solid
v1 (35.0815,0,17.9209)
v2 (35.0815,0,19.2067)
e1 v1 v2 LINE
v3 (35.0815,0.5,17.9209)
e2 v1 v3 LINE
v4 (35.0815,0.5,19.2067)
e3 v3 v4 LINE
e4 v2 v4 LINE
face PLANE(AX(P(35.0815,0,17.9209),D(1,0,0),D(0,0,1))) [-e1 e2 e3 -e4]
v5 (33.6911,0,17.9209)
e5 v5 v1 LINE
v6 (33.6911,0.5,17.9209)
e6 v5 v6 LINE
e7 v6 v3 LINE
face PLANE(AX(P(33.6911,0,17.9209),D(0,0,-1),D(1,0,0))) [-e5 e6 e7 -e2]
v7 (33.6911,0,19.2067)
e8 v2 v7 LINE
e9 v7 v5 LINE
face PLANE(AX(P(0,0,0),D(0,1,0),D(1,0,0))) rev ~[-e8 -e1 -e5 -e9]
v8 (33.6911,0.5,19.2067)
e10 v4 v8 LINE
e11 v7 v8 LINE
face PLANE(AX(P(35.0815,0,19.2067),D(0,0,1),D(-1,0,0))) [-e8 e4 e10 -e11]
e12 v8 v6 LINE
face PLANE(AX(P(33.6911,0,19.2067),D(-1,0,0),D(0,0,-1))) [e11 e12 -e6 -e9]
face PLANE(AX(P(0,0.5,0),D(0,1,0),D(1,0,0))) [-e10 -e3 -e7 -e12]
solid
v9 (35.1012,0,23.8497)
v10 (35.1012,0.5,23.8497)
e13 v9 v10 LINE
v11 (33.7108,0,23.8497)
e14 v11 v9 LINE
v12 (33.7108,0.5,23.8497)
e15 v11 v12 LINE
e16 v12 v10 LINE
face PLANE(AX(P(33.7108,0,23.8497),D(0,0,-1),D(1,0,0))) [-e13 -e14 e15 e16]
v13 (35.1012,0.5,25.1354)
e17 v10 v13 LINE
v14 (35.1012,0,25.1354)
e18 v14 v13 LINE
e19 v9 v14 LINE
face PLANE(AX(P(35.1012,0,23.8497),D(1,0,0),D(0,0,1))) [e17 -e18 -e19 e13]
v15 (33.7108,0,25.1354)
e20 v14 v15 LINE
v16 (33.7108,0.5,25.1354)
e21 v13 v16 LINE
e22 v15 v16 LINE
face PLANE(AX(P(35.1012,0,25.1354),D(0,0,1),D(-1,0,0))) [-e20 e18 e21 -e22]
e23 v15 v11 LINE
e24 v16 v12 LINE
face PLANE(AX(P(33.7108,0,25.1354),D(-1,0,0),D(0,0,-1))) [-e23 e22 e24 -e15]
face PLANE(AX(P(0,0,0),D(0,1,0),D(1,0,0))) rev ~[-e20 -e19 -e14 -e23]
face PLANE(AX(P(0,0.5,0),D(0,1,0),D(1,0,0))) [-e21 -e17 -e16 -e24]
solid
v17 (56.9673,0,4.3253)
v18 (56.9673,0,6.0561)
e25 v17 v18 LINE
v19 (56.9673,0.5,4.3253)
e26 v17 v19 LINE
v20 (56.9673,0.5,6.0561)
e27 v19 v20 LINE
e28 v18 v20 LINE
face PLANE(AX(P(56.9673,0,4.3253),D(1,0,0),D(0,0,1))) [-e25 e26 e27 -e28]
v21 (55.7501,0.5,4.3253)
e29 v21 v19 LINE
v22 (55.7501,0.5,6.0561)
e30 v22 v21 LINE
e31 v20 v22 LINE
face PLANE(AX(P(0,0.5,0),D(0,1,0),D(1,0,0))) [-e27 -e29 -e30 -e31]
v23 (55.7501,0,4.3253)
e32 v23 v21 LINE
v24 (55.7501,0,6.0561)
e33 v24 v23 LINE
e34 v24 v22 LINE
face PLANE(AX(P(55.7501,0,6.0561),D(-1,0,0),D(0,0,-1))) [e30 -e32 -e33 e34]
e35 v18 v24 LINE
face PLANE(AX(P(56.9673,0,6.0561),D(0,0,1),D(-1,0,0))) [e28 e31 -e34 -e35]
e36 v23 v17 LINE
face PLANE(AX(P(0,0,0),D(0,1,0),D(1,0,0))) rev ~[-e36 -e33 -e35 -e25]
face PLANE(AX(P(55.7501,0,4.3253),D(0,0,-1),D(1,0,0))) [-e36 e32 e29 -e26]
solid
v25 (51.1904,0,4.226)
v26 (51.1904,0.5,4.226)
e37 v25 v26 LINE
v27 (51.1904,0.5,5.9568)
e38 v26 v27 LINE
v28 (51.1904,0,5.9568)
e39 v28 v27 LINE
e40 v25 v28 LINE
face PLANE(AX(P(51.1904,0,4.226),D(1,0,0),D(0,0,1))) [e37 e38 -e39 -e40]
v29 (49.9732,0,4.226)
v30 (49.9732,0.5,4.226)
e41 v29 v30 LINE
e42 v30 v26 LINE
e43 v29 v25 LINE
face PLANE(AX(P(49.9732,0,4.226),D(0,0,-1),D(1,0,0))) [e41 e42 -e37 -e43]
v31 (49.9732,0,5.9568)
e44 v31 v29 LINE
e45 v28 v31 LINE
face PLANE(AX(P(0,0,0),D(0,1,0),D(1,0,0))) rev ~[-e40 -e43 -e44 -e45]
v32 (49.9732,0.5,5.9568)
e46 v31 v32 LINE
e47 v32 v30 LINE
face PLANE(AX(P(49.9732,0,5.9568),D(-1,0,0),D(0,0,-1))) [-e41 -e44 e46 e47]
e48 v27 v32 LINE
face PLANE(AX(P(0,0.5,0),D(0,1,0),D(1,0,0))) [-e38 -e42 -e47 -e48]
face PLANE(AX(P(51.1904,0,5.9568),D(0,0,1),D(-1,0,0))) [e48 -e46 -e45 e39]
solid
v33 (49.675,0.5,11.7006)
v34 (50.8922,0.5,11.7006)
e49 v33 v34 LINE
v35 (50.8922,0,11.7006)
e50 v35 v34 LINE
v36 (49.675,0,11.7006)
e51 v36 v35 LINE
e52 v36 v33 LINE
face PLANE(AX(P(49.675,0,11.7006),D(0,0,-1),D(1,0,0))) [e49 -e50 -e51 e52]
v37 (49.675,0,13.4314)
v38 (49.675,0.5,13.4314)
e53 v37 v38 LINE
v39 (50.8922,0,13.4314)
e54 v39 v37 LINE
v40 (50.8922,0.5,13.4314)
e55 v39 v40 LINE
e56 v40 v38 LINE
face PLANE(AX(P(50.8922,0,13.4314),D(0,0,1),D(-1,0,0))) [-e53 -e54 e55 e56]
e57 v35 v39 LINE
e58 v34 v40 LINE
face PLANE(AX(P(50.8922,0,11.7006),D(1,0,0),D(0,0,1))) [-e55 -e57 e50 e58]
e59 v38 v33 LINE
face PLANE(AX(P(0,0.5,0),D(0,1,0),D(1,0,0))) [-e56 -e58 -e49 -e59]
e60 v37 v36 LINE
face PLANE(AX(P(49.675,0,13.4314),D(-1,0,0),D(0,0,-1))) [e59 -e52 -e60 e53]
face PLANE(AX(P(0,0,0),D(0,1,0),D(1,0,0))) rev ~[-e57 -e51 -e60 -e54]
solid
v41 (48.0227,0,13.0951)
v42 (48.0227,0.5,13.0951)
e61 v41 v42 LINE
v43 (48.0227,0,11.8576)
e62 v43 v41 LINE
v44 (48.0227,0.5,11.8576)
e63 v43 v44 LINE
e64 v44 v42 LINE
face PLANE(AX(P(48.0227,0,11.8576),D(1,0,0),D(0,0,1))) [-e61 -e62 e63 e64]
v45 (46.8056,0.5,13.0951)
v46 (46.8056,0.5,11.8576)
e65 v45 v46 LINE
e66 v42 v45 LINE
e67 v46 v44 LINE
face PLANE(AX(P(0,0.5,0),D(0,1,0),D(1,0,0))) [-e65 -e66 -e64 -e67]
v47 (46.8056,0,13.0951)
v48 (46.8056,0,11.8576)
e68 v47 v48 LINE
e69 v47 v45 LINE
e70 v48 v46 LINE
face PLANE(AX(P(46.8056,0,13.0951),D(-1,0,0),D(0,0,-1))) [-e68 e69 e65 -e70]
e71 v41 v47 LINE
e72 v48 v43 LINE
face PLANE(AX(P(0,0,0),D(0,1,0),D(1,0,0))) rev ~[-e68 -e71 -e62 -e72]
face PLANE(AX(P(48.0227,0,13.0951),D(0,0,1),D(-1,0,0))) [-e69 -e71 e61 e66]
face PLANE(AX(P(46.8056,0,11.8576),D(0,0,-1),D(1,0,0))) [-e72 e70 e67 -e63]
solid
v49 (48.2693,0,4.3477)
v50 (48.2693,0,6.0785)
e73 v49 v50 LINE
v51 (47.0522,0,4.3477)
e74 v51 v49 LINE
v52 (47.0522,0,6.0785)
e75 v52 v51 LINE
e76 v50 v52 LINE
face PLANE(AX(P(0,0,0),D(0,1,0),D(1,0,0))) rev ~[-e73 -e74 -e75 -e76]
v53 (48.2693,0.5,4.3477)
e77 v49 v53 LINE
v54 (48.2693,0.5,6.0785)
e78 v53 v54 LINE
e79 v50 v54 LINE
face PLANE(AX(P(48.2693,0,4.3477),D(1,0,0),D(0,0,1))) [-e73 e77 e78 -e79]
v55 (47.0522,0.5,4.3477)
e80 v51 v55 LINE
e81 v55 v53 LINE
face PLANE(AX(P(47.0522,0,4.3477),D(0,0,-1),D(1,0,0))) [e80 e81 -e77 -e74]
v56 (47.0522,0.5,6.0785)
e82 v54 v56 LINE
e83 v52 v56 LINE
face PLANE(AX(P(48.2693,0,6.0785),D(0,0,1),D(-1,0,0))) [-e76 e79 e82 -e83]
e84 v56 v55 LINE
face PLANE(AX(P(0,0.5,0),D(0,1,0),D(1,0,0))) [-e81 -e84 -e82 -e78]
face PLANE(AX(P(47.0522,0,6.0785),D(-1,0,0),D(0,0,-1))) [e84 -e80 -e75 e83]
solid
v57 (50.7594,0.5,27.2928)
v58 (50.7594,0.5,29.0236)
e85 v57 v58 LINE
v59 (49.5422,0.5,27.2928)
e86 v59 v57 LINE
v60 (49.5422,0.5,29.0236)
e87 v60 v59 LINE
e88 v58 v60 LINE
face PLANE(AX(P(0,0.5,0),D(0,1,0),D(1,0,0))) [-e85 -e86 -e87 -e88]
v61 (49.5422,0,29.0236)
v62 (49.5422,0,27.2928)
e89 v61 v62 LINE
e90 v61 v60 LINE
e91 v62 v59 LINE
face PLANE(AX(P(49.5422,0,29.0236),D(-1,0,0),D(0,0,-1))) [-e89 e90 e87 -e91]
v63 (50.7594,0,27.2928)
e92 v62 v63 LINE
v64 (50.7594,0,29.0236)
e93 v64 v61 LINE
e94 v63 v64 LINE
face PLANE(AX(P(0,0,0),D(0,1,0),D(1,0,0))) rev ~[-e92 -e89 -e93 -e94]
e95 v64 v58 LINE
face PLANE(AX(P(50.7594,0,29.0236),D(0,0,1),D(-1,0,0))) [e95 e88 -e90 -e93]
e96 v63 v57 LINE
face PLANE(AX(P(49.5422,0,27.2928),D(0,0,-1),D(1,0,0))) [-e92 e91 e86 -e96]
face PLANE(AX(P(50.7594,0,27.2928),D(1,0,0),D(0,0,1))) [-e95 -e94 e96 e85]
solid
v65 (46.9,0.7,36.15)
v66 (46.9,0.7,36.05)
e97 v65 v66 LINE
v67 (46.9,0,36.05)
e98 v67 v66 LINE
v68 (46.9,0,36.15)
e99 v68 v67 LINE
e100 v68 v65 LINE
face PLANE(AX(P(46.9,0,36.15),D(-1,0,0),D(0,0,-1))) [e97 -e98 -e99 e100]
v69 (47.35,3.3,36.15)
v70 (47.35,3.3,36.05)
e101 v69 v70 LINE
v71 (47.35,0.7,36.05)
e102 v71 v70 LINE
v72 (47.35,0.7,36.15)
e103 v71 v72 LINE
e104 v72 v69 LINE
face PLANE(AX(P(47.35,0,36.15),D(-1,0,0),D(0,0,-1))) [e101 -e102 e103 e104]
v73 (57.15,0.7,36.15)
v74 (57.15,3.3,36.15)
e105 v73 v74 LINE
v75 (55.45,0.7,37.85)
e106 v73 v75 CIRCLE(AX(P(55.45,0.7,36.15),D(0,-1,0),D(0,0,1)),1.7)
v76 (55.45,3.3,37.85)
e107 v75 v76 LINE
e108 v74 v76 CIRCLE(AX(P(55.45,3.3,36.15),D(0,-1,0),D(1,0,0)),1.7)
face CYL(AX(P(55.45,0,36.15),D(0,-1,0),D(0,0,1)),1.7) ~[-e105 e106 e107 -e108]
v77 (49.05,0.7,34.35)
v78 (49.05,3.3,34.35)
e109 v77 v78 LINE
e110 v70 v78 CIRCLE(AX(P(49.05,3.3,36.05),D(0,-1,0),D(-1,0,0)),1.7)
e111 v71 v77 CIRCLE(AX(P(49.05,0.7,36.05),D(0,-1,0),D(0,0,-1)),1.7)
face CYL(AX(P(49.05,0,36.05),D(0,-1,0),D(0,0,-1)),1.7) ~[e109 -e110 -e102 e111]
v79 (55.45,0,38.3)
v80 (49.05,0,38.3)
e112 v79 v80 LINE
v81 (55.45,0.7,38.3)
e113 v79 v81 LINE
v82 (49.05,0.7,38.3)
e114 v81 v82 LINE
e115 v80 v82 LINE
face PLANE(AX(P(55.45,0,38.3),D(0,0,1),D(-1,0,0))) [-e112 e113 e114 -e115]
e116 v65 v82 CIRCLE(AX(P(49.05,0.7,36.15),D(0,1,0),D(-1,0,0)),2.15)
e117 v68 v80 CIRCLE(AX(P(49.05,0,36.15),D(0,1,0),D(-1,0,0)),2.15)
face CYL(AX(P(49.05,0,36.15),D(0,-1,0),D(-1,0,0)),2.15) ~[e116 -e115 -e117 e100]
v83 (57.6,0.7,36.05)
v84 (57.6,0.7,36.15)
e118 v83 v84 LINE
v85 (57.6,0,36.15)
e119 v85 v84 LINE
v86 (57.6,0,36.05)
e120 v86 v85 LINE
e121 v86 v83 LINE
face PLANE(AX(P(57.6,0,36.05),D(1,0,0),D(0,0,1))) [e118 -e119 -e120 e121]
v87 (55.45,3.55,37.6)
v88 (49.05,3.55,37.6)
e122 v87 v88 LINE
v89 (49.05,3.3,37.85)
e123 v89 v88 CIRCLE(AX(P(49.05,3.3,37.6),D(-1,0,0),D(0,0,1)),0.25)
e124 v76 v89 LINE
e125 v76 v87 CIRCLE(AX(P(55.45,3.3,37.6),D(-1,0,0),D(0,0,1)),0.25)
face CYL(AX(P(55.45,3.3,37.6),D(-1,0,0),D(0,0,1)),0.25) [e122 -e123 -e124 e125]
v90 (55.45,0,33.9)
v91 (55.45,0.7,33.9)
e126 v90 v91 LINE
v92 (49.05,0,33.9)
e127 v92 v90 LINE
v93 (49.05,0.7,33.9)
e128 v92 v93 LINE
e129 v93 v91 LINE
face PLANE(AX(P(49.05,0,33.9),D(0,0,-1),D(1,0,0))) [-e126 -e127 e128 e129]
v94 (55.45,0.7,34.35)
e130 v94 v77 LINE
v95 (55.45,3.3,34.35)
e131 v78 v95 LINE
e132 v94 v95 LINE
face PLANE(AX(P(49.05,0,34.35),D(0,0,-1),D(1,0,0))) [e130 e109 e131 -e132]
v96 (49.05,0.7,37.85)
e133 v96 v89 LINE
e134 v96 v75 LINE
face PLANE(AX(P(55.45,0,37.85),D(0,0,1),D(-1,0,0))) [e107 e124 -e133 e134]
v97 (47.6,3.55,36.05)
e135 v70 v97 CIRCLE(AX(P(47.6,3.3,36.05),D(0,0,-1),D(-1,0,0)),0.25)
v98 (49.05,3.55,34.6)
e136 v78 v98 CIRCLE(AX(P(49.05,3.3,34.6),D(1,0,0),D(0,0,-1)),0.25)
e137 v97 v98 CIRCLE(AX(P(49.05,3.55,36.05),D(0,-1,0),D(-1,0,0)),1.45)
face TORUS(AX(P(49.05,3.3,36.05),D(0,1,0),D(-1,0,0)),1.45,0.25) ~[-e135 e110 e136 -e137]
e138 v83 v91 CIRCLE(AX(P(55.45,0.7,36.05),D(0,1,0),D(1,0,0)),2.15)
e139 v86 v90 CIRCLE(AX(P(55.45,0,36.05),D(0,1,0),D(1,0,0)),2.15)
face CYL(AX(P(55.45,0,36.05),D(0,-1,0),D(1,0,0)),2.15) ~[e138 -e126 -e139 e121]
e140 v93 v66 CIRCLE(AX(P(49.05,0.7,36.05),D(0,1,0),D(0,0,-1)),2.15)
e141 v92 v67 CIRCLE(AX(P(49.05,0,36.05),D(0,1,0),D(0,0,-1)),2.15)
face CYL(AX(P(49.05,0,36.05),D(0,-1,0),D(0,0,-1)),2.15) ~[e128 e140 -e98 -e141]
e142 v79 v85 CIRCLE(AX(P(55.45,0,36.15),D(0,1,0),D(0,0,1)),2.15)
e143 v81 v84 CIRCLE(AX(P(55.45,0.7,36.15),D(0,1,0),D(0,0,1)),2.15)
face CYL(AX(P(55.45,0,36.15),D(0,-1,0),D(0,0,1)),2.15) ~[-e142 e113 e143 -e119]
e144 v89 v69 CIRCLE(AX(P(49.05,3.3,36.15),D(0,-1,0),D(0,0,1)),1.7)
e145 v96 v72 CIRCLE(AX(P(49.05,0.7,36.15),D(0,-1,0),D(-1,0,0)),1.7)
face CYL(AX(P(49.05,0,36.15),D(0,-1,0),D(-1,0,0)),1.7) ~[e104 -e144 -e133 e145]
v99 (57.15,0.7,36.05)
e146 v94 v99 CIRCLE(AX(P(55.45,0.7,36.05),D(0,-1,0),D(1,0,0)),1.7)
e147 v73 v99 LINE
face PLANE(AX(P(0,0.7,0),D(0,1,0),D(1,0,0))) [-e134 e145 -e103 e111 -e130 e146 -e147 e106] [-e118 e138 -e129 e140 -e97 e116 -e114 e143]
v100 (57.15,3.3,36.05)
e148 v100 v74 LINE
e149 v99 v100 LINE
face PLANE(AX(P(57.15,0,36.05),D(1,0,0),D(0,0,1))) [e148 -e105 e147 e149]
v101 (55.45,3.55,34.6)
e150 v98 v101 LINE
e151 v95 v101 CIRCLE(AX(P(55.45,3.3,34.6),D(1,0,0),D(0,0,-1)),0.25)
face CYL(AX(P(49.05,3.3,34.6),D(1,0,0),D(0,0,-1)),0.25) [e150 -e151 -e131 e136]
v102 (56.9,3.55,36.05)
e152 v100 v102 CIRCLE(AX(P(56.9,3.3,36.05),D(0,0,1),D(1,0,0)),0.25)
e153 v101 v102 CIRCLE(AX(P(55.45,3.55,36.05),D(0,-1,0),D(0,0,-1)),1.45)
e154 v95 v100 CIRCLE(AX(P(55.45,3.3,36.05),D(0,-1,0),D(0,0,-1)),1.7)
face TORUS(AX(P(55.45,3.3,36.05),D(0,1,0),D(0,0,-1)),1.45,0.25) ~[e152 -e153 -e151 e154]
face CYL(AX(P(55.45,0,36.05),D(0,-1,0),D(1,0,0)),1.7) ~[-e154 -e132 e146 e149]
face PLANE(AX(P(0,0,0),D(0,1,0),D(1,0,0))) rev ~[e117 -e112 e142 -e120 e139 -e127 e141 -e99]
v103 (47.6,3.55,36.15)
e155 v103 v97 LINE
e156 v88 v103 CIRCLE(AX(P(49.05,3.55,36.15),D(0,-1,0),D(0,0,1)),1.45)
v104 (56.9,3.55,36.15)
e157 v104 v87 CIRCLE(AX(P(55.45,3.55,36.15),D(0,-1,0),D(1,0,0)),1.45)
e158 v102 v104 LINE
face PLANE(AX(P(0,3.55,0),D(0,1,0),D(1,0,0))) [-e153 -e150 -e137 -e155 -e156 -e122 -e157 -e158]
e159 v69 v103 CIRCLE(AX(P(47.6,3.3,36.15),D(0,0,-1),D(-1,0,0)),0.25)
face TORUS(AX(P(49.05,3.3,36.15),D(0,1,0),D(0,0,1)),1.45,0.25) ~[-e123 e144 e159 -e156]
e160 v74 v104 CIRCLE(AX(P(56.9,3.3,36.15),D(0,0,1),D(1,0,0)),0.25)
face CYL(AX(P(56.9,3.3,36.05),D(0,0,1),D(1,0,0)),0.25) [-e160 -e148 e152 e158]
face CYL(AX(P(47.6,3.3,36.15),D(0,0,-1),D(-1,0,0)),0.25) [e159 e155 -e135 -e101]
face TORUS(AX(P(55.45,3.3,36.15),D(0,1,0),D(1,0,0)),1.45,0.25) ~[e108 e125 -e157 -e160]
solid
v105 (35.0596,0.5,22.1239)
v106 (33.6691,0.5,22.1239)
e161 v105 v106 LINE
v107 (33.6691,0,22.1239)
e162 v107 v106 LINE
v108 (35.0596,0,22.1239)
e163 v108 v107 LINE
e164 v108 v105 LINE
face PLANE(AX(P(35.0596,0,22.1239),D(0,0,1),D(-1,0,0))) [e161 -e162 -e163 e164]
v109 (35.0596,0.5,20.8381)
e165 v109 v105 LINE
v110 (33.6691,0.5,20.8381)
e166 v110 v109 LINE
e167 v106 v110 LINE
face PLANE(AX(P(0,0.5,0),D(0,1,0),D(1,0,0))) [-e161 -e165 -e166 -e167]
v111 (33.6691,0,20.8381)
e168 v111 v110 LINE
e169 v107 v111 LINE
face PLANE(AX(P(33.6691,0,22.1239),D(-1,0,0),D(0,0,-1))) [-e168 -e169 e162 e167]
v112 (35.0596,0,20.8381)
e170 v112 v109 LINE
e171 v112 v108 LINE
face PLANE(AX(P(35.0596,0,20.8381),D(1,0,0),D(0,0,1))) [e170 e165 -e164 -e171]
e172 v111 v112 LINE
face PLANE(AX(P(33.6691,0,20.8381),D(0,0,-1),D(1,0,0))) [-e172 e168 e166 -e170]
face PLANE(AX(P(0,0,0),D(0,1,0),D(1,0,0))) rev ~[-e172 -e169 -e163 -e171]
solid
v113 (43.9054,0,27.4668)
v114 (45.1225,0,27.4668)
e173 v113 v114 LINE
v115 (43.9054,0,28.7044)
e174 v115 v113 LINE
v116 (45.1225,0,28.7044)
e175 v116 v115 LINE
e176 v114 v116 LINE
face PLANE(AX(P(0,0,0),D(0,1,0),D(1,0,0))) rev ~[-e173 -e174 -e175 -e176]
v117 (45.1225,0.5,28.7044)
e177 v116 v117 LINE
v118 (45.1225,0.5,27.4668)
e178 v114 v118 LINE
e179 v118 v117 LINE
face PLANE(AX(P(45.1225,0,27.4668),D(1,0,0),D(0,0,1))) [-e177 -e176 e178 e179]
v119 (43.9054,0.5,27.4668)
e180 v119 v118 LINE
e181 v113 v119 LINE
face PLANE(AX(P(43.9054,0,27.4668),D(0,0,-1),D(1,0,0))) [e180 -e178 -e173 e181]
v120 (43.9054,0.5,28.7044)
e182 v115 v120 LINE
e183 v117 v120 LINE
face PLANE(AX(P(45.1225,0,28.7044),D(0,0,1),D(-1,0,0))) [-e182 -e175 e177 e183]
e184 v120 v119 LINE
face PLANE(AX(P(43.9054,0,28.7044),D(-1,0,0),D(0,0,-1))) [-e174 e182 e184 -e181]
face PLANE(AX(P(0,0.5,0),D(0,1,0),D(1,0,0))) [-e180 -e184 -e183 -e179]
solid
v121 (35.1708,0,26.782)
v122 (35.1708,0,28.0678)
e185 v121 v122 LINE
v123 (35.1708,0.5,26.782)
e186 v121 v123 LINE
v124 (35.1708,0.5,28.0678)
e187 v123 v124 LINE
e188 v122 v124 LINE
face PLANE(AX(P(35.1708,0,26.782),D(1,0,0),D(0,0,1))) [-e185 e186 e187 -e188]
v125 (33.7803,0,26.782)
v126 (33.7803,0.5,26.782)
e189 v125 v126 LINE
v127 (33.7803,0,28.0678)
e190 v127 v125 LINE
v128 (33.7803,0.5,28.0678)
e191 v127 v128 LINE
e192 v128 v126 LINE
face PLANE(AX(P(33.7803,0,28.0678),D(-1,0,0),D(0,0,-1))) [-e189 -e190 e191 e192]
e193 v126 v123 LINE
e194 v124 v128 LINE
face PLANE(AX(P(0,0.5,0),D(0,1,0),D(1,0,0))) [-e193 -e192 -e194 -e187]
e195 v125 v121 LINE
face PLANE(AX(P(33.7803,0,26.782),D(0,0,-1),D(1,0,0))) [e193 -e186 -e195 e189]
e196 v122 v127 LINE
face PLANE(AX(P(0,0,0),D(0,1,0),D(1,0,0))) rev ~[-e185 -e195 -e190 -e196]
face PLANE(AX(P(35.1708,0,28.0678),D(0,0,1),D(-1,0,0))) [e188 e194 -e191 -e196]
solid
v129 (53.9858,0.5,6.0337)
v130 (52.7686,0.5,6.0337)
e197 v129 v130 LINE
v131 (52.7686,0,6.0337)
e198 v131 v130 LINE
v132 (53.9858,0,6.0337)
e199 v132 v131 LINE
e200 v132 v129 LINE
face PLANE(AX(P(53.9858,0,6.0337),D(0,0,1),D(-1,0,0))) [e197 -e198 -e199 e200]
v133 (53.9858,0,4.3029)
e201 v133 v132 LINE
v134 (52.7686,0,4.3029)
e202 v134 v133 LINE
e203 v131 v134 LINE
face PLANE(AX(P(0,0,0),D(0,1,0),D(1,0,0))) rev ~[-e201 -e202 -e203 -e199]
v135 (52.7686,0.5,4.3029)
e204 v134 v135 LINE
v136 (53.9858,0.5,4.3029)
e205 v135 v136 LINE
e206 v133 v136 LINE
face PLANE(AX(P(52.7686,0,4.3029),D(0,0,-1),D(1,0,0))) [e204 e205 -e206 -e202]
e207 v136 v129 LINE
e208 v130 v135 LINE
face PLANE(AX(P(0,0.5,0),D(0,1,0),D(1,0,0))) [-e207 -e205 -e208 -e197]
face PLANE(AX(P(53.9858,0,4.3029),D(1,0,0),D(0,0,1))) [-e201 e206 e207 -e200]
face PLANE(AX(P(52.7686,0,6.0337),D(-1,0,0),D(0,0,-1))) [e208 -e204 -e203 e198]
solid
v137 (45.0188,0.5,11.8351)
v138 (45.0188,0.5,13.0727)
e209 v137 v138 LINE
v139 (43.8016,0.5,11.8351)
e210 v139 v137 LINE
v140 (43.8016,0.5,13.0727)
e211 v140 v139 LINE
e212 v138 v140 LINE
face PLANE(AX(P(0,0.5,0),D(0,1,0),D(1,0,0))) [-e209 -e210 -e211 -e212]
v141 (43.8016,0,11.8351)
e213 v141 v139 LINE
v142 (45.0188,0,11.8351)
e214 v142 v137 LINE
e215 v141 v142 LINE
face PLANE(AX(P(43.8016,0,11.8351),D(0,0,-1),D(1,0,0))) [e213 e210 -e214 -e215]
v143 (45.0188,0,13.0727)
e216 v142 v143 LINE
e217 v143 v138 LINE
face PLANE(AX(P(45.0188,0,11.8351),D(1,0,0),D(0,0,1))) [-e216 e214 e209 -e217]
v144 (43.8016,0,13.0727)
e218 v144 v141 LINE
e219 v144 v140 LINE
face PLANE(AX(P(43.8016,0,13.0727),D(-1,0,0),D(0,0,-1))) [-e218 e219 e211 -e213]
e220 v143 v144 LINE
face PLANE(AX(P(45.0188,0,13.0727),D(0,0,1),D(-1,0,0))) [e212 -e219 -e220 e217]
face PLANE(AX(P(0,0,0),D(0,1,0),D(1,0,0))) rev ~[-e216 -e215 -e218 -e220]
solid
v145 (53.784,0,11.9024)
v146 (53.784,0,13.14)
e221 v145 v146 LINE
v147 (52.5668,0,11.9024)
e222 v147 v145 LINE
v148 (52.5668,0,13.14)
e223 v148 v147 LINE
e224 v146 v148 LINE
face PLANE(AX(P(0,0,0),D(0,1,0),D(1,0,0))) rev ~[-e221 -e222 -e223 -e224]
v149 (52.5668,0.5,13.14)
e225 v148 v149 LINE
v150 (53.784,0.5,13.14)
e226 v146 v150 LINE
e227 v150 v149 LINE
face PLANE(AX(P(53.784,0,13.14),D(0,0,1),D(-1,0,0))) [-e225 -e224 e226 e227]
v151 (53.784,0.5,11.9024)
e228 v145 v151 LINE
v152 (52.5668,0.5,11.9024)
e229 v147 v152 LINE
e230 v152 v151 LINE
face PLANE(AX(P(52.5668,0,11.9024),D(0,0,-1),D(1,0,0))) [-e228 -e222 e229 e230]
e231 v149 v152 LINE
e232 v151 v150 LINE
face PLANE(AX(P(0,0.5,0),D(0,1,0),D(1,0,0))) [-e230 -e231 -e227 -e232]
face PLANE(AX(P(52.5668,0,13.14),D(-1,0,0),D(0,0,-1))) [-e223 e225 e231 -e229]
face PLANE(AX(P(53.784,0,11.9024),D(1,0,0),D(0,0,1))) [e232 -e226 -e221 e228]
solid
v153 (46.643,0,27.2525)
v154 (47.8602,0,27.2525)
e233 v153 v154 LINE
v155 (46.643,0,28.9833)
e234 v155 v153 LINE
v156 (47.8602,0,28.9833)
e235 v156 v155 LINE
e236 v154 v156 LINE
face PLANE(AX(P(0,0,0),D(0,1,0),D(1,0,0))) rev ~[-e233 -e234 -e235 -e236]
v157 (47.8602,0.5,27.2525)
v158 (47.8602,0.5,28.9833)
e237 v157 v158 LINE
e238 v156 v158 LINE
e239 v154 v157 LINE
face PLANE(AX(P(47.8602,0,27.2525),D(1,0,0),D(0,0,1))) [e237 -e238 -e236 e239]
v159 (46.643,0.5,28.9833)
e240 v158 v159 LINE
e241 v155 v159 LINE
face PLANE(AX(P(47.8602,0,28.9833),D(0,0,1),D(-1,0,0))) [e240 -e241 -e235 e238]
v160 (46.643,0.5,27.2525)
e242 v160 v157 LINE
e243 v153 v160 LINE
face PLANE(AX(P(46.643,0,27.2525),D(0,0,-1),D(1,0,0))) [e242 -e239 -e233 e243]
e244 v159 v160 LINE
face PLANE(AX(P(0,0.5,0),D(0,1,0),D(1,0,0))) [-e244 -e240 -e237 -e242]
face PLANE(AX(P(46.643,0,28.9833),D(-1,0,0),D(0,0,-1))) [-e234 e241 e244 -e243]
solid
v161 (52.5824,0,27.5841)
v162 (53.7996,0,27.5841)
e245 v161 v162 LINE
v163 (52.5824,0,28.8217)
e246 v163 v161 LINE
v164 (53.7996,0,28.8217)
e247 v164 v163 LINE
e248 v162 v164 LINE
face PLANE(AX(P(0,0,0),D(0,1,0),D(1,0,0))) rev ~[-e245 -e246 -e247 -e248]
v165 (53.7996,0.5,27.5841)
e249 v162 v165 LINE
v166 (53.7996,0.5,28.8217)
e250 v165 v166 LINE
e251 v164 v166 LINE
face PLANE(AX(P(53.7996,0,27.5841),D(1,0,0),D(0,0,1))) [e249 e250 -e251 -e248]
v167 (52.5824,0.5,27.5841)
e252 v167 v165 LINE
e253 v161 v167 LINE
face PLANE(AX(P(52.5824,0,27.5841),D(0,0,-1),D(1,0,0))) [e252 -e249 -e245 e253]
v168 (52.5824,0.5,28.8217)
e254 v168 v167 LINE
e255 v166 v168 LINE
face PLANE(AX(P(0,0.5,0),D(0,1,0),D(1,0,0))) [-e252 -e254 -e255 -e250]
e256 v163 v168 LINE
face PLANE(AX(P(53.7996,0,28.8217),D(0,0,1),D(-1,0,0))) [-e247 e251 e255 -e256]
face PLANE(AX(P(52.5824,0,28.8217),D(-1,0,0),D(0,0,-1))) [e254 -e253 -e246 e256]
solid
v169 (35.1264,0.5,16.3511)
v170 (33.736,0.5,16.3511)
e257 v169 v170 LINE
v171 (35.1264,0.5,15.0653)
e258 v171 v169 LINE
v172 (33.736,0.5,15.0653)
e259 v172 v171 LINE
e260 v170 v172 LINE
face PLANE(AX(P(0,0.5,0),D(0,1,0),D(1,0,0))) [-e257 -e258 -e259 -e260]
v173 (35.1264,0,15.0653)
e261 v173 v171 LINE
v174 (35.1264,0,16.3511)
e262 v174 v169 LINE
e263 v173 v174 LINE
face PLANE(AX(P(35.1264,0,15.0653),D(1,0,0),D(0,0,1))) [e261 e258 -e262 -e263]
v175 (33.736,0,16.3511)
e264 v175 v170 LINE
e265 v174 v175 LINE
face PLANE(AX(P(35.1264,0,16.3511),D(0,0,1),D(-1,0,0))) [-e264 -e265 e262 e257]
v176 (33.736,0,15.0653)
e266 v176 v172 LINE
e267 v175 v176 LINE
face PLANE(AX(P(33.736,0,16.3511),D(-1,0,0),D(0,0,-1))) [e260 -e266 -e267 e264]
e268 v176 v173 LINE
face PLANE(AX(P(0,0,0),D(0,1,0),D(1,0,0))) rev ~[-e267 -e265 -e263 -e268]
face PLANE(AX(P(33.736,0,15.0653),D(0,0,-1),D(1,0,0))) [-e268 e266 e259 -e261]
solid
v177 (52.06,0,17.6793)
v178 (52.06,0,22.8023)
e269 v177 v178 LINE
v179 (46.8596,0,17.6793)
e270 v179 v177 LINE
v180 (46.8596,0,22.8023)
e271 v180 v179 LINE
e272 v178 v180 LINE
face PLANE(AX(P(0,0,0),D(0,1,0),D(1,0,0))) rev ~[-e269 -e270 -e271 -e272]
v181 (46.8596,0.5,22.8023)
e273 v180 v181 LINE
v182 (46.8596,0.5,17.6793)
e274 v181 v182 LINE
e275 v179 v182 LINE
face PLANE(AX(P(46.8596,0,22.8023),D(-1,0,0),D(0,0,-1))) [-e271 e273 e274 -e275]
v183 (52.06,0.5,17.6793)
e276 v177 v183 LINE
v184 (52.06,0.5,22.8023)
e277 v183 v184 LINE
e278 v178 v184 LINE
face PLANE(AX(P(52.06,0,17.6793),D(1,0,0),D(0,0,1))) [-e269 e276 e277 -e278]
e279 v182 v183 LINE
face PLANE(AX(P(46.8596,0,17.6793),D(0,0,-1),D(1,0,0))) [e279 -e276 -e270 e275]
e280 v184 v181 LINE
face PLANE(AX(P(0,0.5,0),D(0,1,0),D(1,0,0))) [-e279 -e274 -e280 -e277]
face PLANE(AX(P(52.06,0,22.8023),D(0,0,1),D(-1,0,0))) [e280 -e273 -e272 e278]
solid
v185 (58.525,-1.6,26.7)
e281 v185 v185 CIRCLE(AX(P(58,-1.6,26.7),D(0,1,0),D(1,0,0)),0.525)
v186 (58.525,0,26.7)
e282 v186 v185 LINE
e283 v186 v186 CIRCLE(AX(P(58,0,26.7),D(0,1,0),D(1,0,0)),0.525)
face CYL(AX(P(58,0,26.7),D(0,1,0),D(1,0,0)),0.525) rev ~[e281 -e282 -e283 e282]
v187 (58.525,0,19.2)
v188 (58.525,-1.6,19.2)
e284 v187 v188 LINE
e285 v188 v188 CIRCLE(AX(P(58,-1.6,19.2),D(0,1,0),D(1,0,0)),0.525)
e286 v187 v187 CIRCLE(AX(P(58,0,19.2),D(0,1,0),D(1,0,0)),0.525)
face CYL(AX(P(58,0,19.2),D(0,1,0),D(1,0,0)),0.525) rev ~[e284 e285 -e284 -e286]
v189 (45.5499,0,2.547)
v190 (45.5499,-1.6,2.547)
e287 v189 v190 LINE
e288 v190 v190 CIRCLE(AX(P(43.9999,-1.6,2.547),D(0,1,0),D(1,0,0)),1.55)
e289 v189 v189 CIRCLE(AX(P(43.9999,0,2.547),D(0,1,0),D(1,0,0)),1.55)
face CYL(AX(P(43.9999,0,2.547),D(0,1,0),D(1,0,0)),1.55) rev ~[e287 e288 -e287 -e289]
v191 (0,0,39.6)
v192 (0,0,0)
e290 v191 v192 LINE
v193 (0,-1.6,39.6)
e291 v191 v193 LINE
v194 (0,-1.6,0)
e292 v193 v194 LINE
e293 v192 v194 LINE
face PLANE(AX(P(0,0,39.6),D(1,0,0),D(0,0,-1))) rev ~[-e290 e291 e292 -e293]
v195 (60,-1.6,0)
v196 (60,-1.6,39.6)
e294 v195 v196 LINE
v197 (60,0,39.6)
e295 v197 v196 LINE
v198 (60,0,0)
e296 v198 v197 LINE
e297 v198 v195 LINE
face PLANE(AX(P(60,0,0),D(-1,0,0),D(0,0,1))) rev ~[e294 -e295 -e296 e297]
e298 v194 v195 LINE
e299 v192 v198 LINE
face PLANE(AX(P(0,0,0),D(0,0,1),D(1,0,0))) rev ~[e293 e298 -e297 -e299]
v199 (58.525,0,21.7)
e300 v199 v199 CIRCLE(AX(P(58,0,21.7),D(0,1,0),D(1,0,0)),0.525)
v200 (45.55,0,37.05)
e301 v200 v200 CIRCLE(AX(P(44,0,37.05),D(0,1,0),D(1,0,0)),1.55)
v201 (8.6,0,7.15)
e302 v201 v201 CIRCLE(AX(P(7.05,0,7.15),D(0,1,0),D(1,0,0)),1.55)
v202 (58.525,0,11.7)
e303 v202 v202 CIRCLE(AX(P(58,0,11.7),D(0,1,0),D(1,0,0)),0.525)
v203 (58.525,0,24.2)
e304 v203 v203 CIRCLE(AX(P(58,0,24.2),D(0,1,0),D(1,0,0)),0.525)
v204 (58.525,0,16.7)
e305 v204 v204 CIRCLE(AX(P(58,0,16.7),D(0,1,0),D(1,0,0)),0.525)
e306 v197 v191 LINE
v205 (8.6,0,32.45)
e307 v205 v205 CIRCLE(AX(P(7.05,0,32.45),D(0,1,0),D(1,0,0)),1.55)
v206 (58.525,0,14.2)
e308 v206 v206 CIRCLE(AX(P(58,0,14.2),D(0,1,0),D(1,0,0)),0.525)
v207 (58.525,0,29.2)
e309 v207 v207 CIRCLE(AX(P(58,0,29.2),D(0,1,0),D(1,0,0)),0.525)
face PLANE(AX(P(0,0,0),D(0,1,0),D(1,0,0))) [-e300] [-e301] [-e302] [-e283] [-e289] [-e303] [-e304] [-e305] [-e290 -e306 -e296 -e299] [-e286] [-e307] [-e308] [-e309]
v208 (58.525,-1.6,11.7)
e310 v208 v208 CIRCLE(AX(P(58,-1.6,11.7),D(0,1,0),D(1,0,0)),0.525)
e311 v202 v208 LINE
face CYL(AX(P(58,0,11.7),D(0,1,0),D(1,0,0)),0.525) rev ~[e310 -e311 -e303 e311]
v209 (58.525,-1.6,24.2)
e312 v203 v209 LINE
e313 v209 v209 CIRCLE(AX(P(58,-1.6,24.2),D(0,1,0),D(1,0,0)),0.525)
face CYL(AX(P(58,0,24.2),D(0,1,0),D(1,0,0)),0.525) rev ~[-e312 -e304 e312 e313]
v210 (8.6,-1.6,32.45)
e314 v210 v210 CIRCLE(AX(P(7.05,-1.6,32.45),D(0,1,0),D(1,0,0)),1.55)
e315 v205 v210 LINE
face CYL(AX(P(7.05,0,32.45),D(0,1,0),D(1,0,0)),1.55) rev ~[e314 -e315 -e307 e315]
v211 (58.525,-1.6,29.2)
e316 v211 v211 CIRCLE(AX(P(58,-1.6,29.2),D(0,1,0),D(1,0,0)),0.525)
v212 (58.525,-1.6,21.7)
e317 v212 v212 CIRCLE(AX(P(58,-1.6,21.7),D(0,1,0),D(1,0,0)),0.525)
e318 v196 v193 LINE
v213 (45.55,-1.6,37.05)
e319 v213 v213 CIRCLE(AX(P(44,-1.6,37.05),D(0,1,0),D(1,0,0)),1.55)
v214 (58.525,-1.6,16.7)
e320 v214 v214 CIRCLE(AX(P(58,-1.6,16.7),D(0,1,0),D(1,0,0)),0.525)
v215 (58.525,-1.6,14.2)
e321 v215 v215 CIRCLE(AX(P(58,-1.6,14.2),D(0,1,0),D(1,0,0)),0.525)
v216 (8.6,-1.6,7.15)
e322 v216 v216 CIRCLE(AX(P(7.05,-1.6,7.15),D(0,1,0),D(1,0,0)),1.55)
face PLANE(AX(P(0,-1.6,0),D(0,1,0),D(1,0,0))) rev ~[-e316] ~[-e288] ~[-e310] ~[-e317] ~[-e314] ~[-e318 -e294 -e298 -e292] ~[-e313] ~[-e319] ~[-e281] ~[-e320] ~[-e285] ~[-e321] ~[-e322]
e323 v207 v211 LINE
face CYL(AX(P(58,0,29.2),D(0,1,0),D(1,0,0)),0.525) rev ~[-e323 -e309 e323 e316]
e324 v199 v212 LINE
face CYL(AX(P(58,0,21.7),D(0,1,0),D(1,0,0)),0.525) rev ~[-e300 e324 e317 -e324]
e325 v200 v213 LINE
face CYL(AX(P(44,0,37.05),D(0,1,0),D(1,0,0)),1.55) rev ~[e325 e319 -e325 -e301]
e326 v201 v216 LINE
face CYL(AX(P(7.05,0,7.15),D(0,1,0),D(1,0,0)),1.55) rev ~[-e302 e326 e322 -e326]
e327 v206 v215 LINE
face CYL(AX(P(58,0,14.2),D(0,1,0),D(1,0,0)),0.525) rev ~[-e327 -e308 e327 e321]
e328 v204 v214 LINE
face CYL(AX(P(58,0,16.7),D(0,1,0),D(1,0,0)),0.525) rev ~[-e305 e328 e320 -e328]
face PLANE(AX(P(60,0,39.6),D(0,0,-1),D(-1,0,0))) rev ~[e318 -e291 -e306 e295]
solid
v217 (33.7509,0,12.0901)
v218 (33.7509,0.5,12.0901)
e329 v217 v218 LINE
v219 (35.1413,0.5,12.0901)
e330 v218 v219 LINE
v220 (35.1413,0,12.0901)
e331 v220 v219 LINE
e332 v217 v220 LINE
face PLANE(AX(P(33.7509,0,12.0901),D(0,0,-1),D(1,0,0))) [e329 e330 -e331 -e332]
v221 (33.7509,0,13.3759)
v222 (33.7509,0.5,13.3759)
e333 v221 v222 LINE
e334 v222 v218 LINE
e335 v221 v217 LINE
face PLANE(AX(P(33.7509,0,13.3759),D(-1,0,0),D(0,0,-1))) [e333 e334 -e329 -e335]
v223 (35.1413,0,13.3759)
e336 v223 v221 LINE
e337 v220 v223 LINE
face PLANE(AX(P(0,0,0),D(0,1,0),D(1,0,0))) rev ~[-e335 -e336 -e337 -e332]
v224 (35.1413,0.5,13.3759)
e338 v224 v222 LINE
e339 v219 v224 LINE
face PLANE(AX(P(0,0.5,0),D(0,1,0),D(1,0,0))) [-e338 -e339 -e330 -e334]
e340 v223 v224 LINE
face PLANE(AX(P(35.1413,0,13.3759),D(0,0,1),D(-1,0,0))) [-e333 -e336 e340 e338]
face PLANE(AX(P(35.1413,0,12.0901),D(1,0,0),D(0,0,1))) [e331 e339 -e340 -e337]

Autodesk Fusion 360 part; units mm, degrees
sketch "Sketch1" plane through (0, 0, 0) normal (0, 1, 0) x (1, 0, 0) in component "Base"
  line L0 (0, 0) -> (60, 0)
  line L1 (60, 0) -> (60, -39.6)
  line L2 (60, -39.6) -> (0, -39.6)
  line L3 (0, -39.6) -> (0, 0)
  circle A0 centre (7.05, -32.45) radius 1.55
  line L4 (5.5, -34) -> (0, -34) construction
  line L5 (5.5, -34) -> (5.5, -39.6) construction
  circle A1 centre (7.05, -7.15) radius 1.55
  line L6 (5.5, 0) -> (5.5, -5.6) construction
  line L7 (5.5, -5.6) -> (0, -5.6) construction
  line L8 (0, -1.0831) -> (42.4499, -1) construction
  line L9 (42.4499, -1) -> (42.4499, 0) construction
  circle A2 centre (43.9999, -2.547) radius 1.55
  line L10 (0, -38.6) -> (42.45, -38.6) construction
  line L11 (42.45, -38.6) -> (42.45, -39.6) construction
  circle A3 centre (44, -37.05) radius 1.55
  line L12 (49.05, -33.9) -> (55.45, -33.9)
  line L13 (57.6, -36.05) -> (57.6, -36.15)
  line L14 (55.45, -38.3) -> (49.05, -38.3)
  line L15 (46.9, -36.15) -> (46.9, -36.05)
  arc A4 (49.05, -33.9) -> (46.9, -36.05) centre (49.05, -36.05) ccw
  arc A5 (46.9, -36.15) -> (49.05, -38.3) centre (49.05, -36.15) ccw
  arc A6 (57.6, -36.05) -> (55.45, -33.9) centre (55.45, -36.05) ccw
  arc A7 (55.45, -38.3) -> (57.6, -36.15) centre (55.45, -36.15) ccw
  line L16 (55.45, -37.85) -> (49.05, -37.85)
  arc A8 (47.35, -36.15) -> (49.05, -37.85) centre (49.05, -36.15) ccw
  line L17 (47.35, -36.15) -> (47.35, -36.05)
  arc A9 (49.05, -34.35) -> (47.35, -36.05) centre (49.05, -36.05) ccw
  line L18 (49.05, -34.35) -> (55.45, -34.35)
  arc A10 (57.15, -36.05) -> (55.45, -34.35) centre (55.45, -36.05) ccw
  line L19 (57.15, -36.05) -> (57.15, -36.15)
  arc A11 (55.45, -37.85) -> (57.15, -36.15) centre (55.45, -36.15) ccw
  line L20 (46.9, -38.3) -> (46.9, -39.6) construction
  line L21 (57.6, -33.9) -> (60, -33.9) construction
  line L22 (58, -39.6) -> (58, -29.2) construction
  line L23 (58, -29.2) -> (60, -29.2) construction
  circle A12 centre (58, -29.2) radius 0.525
  circle A13 centre (58, -26.7) radius 0.525
  circle A14 centre (58, -24.2) radius 0.525
  circle A15 centre (58, -21.7) radius 0.525
  circle A16 centre (58, -19.2) radius 0.525
  circle A17 centre (58, -16.7) radius 0.525
  circle A18 centre (58, -14.2) radius 0.525
  circle A19 centre (58, -11.7) radius 0.525
  point P0 (46.9, -33.9)
  point P1 (57.6, -33.9)
  point P2 (46.9, -38.3)
  dimension "d1" = 60
  dimension "d2" = 39.6
  dimension "d5" = 3.1
  dimension "d8" = 5.6
  dimension "d9" = 5.5
  dimension "d10" = 3.1
  dimension "d11" = 5.6
  dimension "d12" = 5.5
  dimension "d13" = 42.45
  dimension "d14" = 1
  dimension "d15" = 3.1
  dimension "d16" = 42.45
  dimension "d17" = 1
  dimension "d18" = 3.1
  dimension "d19" = 10.7
  dimension "d20" = 4.4
  dimension "d23" = 0.45
  dimension "d24" = 2.15
  dimension "d25" = 2.4
  dimension "d26" = 1.3
  dimension "d27" = 10.4
  dimension "d28" = 2
  dimension "d29" = 1.05
  dimension "d32" = 0
  dimension "d33" = 2.5
extrude "Extrude1" add sketch "Sketch1" against normal blind 1.6 contours L0 L1 L2 L3 | L12 L13 L14 L15 A4 A5 A6 A7 | L16 A8 L17 A9 L18 A10 L19 A11 makes body 1 in component "Base"
extrude "Extrude2" add sketch "Sketch1" along normal blind 0.7 separate body contours L12 L13 L14 L15 A4 A5 A6 A7 | L16 A8 L17 A9 L18 A10 L19 A11 makes body 2 in component "Base"
extrude "Extrude3" add sketch "Sketch1" along normal blind 3.55 separate body contours L16 A8 L17 A9 L18 A10 L19 A11 makes body 3 in component "Base"
fillet "Fillet1" radius 0.25 8 edges at (47.35, 3.55, 36.1) (47.8479, 3.55, 37.3521) (52.25, 3.55, 37.85) (56.6521, 3.55, 37.3521) (57.15, 3.55, 36.1) (56.6521, 3.55, 34.8479) (52.25, 3.55, 34.35) (47.8479, 3.55, 34.8479) on bodies 3 in component "Base"
combine "Combine1" operation add target body 2 tool bodies 3 in component "Base"
sketch "Sketch2" plane through (0, 0, 0) normal (0, 1, 0) x (1, 0, 0) in component "Base"
  line L0 (47.0522, -4.3477) -> (48.2693, -4.3477)
  line L1 (48.2693, -4.3477) -> (48.2693, -6.0785)
  line L2 (48.2693, -6.0785) -> (47.0522, -6.0785)
  line L3 (47.0522, -6.0785) -> (47.0522, -4.3477)
  line L4 (49.9732, -4.226) -> (51.1904, -4.226)
  line L5 (51.1904, -4.226) -> (51.1904, -5.9568)
  line L6 (51.1904, -5.9568) -> (49.9732, -5.9568)
  line L7 (49.9732, -5.9568) -> (49.9732, -4.226)
  line L8 (52.7686, -4.3029) -> (53.9858, -4.3029)
  line L9 (53.9858, -4.3029) -> (53.9858, -6.0337)
  line L10 (53.9858, -6.0337) -> (52.7686, -6.0337)
  line L11 (52.7686, -6.0337) -> (52.7686, -4.3029)
  line L12 (55.7501, -4.3253) -> (56.9673, -4.3253)
  line L13 (56.9673, -4.3253) -> (56.9673, -6.0561)
  line L14 (56.9673, -6.0561) -> (55.7501, -6.0561)
  line L15 (55.7501, -6.0561) -> (55.7501, -4.3253)
  line L16 (43.8016, -11.8351) -> (45.0188, -11.8351)
  line L17 (45.0188, -11.8351) -> (45.0188, -13.0727)
  line L18 (45.0188, -13.0727) -> (43.8016, -13.0727)
  line L19 (43.8016, -13.0727) -> (43.8016, -11.8351)
  line L20 (46.8056, -11.8576) -> (48.0227, -11.8576)
  line L21 (48.0227, -11.8576) -> (48.0227, -13.0951)
  line L22 (48.0227, -13.0951) -> (46.8056, -13.0951)
  line L23 (46.8056, -13.0951) -> (46.8056, -11.8576)
  line L24 (43.8016, -11.8351) -> (45.0188, -11.8351)
  line L25 (45.0188, -11.8351) -> (45.0188, -13.0727)
  line L26 (45.0188, -13.0727) -> (43.8016, -13.0727)
  line L27 (43.8016, -13.0727) -> (43.8016, -11.8351)
  line L28 (49.675, -11.7006) -> (50.8922, -11.7006)
  line L29 (50.8922, -11.7006) -> (50.8922, -13.4314)
  line L30 (50.8922, -13.4314) -> (49.675, -13.4314)
  line L31 (49.675, -13.4314) -> (49.675, -11.7006)
  line L32 (52.5668, -11.9024) -> (53.784, -11.9024)
  line L33 (53.784, -11.9024) -> (53.784, -13.14)
  line L34 (53.784, -13.14) -> (52.5668, -13.14)
  line L35 (52.5668, -13.14) -> (52.5668, -11.9024)
  line L36 (46.8596, -17.6793) -> (52.06, -17.6793)
  line L37 (52.06, -17.6793) -> (52.06, -22.8023)
  line L38 (52.06, -22.8023) -> (46.8596, -22.8023)
  line L39 (46.8596, -22.8023) -> (46.8596, -17.6793)
  line L40 (33.7509, -12.0901) -> (35.1413, -12.0901)
  line L41 (35.1413, -12.0901) -> (35.1413, -13.3759)
  line L42 (35.1413, -13.3759) -> (33.7509, -13.3759)
  line L43 (33.7509, -13.3759) -> (33.7509, -12.0901)
  line L44 (33.736, -15.0653) -> (35.1264, -15.0653)
  line L45 (33.736, -16.3511) -> (33.736, -15.0653)
  line L46 (35.1264, -15.0653) -> (35.1264, -16.3511)
  line L47 (35.1264, -16.3511) -> (33.736, -16.3511)
  line L48 (33.6911, -17.9209) -> (35.0815, -17.9209)
  line L49 (33.6911, -19.2067) -> (33.6911, -17.9209)
  line L50 (35.0815, -17.9209) -> (35.0815, -19.2067)
  line L51 (35.0815, -19.2067) -> (33.6911, -19.2067)
  line L52 (33.6691, -20.8381) -> (35.0596, -20.8381)
  line L53 (33.6691, -22.1239) -> (33.6691, -20.8381)
  line L54 (35.0596, -20.8381) -> (35.0596, -22.1239)
  line L55 (35.0596, -22.1239) -> (33.6691, -22.1239)
  line L56 (33.7108, -23.8497) -> (35.1012, -23.8497)
  line L57 (33.7108, -25.1354) -> (33.7108, -23.8497)
  line L58 (35.1012, -23.8497) -> (35.1012, -25.1354)
  line L59 (35.1012, -25.1354) -> (33.7108, -25.1354)
  line L60 (33.7803, -26.782) -> (35.1708, -26.782)
  line L61 (33.7803, -28.0678) -> (33.7803, -26.782)
  line L62 (35.1708, -26.782) -> (35.1708, -28.0678)
  line L63 (35.1708, -28.0678) -> (33.7803, -28.0678)
  line L64 (43.9054, -27.4668) -> (45.1225, -27.4668)
  line L65 (45.1225, -27.4668) -> (45.1225, -28.7044)
  line L66 (45.1225, -28.7044) -> (43.9054, -28.7044)
  line L67 (43.9054, -28.7044) -> (43.9054, -27.4668)
  line L68 (43.8016, -11.8351) -> (45.0188, -11.8351)
  line L69 (45.0188, -11.8351) -> (45.0188, -13.0727)
  line L70 (45.0188, -13.0727) -> (43.8016, -13.0727)
  line L71 (43.8016, -13.0727) -> (43.8016, -11.8351)
  line L72 (52.5824, -27.5841) -> (53.7996, -27.5841)
  line L73 (53.7996, -27.5841) -> (53.7996, -28.8217)
  line L74 (53.7996, -28.8217) -> (52.5824, -28.8217)
  line L75 (52.5824, -28.8217) -> (52.5824, -27.5841)
  line L76 (46.643, -27.2525) -> (47.8602, -27.2525)
  line L77 (47.8602, -27.2525) -> (47.8602, -28.9833)
  line L78 (47.8602, -28.9833) -> (46.643, -28.9833)
  line L79 (46.643, -28.9833) -> (46.643, -27.2525)
  line L80 (49.5422, -27.2928) -> (50.7594, -27.2928)
  line L81 (50.7594, -27.2928) -> (50.7594, -29.0236)
  line L82 (50.7594, -29.0236) -> (49.5422, -29.0236)
  line L83 (49.5422, -29.0236) -> (49.5422, -27.2928)
extrude "Extrude4" add sketch "Sketch2" along normal blind 0.5 separate body makes body 4 at (49.948, 0, 28.4466) makes body 5 at (50.0807, 0, 12.2776) makes body 6 at (34.6378, 0, 24.7069) makes body 7 at (34.2144, 0, 12.5187) makes body 8 at (50.379, 0, 5.3799) makes body 9 at (56.1558, 0, 4.9022) makes body 10 at (34.1326, 0, 21.2667) makes body 11 at (47.2113, 0, 12.6826) makes body 12 at (47.0487, 0, 28.4064) makes body 13 at (52.9881, 0, 27.9966) makes body 14 at (52.9726, 0, 12.3149) makes body 15 at (34.2438, 0, 27.2106) makes body 16 at (34.1994, 0, 15.4939) makes body 17 at (47.8636, 0, 5.5016) makes body 18 at (53.1743, 0, 4.8798) makes body 19 at (34.1546, 0, 18.3495) makes body 20 at (44.6131, 0, 12.2477) makes body 21 at (44.3111, 0, 28.2919) makes body 22 at (48.5931, 0, 19.3869) in component "Base"
component "Base" placed x (1, 0, 0) y (0, 1, 0) z (0, 0, 1) at (0, 0, 0)
component "Pins" placed x (1, 0, 0) y (0, 1, 0) z (0, 0, 1) at (0, 0, 0)
equation "d39 = 5.15 mm - 1.6 mm"
